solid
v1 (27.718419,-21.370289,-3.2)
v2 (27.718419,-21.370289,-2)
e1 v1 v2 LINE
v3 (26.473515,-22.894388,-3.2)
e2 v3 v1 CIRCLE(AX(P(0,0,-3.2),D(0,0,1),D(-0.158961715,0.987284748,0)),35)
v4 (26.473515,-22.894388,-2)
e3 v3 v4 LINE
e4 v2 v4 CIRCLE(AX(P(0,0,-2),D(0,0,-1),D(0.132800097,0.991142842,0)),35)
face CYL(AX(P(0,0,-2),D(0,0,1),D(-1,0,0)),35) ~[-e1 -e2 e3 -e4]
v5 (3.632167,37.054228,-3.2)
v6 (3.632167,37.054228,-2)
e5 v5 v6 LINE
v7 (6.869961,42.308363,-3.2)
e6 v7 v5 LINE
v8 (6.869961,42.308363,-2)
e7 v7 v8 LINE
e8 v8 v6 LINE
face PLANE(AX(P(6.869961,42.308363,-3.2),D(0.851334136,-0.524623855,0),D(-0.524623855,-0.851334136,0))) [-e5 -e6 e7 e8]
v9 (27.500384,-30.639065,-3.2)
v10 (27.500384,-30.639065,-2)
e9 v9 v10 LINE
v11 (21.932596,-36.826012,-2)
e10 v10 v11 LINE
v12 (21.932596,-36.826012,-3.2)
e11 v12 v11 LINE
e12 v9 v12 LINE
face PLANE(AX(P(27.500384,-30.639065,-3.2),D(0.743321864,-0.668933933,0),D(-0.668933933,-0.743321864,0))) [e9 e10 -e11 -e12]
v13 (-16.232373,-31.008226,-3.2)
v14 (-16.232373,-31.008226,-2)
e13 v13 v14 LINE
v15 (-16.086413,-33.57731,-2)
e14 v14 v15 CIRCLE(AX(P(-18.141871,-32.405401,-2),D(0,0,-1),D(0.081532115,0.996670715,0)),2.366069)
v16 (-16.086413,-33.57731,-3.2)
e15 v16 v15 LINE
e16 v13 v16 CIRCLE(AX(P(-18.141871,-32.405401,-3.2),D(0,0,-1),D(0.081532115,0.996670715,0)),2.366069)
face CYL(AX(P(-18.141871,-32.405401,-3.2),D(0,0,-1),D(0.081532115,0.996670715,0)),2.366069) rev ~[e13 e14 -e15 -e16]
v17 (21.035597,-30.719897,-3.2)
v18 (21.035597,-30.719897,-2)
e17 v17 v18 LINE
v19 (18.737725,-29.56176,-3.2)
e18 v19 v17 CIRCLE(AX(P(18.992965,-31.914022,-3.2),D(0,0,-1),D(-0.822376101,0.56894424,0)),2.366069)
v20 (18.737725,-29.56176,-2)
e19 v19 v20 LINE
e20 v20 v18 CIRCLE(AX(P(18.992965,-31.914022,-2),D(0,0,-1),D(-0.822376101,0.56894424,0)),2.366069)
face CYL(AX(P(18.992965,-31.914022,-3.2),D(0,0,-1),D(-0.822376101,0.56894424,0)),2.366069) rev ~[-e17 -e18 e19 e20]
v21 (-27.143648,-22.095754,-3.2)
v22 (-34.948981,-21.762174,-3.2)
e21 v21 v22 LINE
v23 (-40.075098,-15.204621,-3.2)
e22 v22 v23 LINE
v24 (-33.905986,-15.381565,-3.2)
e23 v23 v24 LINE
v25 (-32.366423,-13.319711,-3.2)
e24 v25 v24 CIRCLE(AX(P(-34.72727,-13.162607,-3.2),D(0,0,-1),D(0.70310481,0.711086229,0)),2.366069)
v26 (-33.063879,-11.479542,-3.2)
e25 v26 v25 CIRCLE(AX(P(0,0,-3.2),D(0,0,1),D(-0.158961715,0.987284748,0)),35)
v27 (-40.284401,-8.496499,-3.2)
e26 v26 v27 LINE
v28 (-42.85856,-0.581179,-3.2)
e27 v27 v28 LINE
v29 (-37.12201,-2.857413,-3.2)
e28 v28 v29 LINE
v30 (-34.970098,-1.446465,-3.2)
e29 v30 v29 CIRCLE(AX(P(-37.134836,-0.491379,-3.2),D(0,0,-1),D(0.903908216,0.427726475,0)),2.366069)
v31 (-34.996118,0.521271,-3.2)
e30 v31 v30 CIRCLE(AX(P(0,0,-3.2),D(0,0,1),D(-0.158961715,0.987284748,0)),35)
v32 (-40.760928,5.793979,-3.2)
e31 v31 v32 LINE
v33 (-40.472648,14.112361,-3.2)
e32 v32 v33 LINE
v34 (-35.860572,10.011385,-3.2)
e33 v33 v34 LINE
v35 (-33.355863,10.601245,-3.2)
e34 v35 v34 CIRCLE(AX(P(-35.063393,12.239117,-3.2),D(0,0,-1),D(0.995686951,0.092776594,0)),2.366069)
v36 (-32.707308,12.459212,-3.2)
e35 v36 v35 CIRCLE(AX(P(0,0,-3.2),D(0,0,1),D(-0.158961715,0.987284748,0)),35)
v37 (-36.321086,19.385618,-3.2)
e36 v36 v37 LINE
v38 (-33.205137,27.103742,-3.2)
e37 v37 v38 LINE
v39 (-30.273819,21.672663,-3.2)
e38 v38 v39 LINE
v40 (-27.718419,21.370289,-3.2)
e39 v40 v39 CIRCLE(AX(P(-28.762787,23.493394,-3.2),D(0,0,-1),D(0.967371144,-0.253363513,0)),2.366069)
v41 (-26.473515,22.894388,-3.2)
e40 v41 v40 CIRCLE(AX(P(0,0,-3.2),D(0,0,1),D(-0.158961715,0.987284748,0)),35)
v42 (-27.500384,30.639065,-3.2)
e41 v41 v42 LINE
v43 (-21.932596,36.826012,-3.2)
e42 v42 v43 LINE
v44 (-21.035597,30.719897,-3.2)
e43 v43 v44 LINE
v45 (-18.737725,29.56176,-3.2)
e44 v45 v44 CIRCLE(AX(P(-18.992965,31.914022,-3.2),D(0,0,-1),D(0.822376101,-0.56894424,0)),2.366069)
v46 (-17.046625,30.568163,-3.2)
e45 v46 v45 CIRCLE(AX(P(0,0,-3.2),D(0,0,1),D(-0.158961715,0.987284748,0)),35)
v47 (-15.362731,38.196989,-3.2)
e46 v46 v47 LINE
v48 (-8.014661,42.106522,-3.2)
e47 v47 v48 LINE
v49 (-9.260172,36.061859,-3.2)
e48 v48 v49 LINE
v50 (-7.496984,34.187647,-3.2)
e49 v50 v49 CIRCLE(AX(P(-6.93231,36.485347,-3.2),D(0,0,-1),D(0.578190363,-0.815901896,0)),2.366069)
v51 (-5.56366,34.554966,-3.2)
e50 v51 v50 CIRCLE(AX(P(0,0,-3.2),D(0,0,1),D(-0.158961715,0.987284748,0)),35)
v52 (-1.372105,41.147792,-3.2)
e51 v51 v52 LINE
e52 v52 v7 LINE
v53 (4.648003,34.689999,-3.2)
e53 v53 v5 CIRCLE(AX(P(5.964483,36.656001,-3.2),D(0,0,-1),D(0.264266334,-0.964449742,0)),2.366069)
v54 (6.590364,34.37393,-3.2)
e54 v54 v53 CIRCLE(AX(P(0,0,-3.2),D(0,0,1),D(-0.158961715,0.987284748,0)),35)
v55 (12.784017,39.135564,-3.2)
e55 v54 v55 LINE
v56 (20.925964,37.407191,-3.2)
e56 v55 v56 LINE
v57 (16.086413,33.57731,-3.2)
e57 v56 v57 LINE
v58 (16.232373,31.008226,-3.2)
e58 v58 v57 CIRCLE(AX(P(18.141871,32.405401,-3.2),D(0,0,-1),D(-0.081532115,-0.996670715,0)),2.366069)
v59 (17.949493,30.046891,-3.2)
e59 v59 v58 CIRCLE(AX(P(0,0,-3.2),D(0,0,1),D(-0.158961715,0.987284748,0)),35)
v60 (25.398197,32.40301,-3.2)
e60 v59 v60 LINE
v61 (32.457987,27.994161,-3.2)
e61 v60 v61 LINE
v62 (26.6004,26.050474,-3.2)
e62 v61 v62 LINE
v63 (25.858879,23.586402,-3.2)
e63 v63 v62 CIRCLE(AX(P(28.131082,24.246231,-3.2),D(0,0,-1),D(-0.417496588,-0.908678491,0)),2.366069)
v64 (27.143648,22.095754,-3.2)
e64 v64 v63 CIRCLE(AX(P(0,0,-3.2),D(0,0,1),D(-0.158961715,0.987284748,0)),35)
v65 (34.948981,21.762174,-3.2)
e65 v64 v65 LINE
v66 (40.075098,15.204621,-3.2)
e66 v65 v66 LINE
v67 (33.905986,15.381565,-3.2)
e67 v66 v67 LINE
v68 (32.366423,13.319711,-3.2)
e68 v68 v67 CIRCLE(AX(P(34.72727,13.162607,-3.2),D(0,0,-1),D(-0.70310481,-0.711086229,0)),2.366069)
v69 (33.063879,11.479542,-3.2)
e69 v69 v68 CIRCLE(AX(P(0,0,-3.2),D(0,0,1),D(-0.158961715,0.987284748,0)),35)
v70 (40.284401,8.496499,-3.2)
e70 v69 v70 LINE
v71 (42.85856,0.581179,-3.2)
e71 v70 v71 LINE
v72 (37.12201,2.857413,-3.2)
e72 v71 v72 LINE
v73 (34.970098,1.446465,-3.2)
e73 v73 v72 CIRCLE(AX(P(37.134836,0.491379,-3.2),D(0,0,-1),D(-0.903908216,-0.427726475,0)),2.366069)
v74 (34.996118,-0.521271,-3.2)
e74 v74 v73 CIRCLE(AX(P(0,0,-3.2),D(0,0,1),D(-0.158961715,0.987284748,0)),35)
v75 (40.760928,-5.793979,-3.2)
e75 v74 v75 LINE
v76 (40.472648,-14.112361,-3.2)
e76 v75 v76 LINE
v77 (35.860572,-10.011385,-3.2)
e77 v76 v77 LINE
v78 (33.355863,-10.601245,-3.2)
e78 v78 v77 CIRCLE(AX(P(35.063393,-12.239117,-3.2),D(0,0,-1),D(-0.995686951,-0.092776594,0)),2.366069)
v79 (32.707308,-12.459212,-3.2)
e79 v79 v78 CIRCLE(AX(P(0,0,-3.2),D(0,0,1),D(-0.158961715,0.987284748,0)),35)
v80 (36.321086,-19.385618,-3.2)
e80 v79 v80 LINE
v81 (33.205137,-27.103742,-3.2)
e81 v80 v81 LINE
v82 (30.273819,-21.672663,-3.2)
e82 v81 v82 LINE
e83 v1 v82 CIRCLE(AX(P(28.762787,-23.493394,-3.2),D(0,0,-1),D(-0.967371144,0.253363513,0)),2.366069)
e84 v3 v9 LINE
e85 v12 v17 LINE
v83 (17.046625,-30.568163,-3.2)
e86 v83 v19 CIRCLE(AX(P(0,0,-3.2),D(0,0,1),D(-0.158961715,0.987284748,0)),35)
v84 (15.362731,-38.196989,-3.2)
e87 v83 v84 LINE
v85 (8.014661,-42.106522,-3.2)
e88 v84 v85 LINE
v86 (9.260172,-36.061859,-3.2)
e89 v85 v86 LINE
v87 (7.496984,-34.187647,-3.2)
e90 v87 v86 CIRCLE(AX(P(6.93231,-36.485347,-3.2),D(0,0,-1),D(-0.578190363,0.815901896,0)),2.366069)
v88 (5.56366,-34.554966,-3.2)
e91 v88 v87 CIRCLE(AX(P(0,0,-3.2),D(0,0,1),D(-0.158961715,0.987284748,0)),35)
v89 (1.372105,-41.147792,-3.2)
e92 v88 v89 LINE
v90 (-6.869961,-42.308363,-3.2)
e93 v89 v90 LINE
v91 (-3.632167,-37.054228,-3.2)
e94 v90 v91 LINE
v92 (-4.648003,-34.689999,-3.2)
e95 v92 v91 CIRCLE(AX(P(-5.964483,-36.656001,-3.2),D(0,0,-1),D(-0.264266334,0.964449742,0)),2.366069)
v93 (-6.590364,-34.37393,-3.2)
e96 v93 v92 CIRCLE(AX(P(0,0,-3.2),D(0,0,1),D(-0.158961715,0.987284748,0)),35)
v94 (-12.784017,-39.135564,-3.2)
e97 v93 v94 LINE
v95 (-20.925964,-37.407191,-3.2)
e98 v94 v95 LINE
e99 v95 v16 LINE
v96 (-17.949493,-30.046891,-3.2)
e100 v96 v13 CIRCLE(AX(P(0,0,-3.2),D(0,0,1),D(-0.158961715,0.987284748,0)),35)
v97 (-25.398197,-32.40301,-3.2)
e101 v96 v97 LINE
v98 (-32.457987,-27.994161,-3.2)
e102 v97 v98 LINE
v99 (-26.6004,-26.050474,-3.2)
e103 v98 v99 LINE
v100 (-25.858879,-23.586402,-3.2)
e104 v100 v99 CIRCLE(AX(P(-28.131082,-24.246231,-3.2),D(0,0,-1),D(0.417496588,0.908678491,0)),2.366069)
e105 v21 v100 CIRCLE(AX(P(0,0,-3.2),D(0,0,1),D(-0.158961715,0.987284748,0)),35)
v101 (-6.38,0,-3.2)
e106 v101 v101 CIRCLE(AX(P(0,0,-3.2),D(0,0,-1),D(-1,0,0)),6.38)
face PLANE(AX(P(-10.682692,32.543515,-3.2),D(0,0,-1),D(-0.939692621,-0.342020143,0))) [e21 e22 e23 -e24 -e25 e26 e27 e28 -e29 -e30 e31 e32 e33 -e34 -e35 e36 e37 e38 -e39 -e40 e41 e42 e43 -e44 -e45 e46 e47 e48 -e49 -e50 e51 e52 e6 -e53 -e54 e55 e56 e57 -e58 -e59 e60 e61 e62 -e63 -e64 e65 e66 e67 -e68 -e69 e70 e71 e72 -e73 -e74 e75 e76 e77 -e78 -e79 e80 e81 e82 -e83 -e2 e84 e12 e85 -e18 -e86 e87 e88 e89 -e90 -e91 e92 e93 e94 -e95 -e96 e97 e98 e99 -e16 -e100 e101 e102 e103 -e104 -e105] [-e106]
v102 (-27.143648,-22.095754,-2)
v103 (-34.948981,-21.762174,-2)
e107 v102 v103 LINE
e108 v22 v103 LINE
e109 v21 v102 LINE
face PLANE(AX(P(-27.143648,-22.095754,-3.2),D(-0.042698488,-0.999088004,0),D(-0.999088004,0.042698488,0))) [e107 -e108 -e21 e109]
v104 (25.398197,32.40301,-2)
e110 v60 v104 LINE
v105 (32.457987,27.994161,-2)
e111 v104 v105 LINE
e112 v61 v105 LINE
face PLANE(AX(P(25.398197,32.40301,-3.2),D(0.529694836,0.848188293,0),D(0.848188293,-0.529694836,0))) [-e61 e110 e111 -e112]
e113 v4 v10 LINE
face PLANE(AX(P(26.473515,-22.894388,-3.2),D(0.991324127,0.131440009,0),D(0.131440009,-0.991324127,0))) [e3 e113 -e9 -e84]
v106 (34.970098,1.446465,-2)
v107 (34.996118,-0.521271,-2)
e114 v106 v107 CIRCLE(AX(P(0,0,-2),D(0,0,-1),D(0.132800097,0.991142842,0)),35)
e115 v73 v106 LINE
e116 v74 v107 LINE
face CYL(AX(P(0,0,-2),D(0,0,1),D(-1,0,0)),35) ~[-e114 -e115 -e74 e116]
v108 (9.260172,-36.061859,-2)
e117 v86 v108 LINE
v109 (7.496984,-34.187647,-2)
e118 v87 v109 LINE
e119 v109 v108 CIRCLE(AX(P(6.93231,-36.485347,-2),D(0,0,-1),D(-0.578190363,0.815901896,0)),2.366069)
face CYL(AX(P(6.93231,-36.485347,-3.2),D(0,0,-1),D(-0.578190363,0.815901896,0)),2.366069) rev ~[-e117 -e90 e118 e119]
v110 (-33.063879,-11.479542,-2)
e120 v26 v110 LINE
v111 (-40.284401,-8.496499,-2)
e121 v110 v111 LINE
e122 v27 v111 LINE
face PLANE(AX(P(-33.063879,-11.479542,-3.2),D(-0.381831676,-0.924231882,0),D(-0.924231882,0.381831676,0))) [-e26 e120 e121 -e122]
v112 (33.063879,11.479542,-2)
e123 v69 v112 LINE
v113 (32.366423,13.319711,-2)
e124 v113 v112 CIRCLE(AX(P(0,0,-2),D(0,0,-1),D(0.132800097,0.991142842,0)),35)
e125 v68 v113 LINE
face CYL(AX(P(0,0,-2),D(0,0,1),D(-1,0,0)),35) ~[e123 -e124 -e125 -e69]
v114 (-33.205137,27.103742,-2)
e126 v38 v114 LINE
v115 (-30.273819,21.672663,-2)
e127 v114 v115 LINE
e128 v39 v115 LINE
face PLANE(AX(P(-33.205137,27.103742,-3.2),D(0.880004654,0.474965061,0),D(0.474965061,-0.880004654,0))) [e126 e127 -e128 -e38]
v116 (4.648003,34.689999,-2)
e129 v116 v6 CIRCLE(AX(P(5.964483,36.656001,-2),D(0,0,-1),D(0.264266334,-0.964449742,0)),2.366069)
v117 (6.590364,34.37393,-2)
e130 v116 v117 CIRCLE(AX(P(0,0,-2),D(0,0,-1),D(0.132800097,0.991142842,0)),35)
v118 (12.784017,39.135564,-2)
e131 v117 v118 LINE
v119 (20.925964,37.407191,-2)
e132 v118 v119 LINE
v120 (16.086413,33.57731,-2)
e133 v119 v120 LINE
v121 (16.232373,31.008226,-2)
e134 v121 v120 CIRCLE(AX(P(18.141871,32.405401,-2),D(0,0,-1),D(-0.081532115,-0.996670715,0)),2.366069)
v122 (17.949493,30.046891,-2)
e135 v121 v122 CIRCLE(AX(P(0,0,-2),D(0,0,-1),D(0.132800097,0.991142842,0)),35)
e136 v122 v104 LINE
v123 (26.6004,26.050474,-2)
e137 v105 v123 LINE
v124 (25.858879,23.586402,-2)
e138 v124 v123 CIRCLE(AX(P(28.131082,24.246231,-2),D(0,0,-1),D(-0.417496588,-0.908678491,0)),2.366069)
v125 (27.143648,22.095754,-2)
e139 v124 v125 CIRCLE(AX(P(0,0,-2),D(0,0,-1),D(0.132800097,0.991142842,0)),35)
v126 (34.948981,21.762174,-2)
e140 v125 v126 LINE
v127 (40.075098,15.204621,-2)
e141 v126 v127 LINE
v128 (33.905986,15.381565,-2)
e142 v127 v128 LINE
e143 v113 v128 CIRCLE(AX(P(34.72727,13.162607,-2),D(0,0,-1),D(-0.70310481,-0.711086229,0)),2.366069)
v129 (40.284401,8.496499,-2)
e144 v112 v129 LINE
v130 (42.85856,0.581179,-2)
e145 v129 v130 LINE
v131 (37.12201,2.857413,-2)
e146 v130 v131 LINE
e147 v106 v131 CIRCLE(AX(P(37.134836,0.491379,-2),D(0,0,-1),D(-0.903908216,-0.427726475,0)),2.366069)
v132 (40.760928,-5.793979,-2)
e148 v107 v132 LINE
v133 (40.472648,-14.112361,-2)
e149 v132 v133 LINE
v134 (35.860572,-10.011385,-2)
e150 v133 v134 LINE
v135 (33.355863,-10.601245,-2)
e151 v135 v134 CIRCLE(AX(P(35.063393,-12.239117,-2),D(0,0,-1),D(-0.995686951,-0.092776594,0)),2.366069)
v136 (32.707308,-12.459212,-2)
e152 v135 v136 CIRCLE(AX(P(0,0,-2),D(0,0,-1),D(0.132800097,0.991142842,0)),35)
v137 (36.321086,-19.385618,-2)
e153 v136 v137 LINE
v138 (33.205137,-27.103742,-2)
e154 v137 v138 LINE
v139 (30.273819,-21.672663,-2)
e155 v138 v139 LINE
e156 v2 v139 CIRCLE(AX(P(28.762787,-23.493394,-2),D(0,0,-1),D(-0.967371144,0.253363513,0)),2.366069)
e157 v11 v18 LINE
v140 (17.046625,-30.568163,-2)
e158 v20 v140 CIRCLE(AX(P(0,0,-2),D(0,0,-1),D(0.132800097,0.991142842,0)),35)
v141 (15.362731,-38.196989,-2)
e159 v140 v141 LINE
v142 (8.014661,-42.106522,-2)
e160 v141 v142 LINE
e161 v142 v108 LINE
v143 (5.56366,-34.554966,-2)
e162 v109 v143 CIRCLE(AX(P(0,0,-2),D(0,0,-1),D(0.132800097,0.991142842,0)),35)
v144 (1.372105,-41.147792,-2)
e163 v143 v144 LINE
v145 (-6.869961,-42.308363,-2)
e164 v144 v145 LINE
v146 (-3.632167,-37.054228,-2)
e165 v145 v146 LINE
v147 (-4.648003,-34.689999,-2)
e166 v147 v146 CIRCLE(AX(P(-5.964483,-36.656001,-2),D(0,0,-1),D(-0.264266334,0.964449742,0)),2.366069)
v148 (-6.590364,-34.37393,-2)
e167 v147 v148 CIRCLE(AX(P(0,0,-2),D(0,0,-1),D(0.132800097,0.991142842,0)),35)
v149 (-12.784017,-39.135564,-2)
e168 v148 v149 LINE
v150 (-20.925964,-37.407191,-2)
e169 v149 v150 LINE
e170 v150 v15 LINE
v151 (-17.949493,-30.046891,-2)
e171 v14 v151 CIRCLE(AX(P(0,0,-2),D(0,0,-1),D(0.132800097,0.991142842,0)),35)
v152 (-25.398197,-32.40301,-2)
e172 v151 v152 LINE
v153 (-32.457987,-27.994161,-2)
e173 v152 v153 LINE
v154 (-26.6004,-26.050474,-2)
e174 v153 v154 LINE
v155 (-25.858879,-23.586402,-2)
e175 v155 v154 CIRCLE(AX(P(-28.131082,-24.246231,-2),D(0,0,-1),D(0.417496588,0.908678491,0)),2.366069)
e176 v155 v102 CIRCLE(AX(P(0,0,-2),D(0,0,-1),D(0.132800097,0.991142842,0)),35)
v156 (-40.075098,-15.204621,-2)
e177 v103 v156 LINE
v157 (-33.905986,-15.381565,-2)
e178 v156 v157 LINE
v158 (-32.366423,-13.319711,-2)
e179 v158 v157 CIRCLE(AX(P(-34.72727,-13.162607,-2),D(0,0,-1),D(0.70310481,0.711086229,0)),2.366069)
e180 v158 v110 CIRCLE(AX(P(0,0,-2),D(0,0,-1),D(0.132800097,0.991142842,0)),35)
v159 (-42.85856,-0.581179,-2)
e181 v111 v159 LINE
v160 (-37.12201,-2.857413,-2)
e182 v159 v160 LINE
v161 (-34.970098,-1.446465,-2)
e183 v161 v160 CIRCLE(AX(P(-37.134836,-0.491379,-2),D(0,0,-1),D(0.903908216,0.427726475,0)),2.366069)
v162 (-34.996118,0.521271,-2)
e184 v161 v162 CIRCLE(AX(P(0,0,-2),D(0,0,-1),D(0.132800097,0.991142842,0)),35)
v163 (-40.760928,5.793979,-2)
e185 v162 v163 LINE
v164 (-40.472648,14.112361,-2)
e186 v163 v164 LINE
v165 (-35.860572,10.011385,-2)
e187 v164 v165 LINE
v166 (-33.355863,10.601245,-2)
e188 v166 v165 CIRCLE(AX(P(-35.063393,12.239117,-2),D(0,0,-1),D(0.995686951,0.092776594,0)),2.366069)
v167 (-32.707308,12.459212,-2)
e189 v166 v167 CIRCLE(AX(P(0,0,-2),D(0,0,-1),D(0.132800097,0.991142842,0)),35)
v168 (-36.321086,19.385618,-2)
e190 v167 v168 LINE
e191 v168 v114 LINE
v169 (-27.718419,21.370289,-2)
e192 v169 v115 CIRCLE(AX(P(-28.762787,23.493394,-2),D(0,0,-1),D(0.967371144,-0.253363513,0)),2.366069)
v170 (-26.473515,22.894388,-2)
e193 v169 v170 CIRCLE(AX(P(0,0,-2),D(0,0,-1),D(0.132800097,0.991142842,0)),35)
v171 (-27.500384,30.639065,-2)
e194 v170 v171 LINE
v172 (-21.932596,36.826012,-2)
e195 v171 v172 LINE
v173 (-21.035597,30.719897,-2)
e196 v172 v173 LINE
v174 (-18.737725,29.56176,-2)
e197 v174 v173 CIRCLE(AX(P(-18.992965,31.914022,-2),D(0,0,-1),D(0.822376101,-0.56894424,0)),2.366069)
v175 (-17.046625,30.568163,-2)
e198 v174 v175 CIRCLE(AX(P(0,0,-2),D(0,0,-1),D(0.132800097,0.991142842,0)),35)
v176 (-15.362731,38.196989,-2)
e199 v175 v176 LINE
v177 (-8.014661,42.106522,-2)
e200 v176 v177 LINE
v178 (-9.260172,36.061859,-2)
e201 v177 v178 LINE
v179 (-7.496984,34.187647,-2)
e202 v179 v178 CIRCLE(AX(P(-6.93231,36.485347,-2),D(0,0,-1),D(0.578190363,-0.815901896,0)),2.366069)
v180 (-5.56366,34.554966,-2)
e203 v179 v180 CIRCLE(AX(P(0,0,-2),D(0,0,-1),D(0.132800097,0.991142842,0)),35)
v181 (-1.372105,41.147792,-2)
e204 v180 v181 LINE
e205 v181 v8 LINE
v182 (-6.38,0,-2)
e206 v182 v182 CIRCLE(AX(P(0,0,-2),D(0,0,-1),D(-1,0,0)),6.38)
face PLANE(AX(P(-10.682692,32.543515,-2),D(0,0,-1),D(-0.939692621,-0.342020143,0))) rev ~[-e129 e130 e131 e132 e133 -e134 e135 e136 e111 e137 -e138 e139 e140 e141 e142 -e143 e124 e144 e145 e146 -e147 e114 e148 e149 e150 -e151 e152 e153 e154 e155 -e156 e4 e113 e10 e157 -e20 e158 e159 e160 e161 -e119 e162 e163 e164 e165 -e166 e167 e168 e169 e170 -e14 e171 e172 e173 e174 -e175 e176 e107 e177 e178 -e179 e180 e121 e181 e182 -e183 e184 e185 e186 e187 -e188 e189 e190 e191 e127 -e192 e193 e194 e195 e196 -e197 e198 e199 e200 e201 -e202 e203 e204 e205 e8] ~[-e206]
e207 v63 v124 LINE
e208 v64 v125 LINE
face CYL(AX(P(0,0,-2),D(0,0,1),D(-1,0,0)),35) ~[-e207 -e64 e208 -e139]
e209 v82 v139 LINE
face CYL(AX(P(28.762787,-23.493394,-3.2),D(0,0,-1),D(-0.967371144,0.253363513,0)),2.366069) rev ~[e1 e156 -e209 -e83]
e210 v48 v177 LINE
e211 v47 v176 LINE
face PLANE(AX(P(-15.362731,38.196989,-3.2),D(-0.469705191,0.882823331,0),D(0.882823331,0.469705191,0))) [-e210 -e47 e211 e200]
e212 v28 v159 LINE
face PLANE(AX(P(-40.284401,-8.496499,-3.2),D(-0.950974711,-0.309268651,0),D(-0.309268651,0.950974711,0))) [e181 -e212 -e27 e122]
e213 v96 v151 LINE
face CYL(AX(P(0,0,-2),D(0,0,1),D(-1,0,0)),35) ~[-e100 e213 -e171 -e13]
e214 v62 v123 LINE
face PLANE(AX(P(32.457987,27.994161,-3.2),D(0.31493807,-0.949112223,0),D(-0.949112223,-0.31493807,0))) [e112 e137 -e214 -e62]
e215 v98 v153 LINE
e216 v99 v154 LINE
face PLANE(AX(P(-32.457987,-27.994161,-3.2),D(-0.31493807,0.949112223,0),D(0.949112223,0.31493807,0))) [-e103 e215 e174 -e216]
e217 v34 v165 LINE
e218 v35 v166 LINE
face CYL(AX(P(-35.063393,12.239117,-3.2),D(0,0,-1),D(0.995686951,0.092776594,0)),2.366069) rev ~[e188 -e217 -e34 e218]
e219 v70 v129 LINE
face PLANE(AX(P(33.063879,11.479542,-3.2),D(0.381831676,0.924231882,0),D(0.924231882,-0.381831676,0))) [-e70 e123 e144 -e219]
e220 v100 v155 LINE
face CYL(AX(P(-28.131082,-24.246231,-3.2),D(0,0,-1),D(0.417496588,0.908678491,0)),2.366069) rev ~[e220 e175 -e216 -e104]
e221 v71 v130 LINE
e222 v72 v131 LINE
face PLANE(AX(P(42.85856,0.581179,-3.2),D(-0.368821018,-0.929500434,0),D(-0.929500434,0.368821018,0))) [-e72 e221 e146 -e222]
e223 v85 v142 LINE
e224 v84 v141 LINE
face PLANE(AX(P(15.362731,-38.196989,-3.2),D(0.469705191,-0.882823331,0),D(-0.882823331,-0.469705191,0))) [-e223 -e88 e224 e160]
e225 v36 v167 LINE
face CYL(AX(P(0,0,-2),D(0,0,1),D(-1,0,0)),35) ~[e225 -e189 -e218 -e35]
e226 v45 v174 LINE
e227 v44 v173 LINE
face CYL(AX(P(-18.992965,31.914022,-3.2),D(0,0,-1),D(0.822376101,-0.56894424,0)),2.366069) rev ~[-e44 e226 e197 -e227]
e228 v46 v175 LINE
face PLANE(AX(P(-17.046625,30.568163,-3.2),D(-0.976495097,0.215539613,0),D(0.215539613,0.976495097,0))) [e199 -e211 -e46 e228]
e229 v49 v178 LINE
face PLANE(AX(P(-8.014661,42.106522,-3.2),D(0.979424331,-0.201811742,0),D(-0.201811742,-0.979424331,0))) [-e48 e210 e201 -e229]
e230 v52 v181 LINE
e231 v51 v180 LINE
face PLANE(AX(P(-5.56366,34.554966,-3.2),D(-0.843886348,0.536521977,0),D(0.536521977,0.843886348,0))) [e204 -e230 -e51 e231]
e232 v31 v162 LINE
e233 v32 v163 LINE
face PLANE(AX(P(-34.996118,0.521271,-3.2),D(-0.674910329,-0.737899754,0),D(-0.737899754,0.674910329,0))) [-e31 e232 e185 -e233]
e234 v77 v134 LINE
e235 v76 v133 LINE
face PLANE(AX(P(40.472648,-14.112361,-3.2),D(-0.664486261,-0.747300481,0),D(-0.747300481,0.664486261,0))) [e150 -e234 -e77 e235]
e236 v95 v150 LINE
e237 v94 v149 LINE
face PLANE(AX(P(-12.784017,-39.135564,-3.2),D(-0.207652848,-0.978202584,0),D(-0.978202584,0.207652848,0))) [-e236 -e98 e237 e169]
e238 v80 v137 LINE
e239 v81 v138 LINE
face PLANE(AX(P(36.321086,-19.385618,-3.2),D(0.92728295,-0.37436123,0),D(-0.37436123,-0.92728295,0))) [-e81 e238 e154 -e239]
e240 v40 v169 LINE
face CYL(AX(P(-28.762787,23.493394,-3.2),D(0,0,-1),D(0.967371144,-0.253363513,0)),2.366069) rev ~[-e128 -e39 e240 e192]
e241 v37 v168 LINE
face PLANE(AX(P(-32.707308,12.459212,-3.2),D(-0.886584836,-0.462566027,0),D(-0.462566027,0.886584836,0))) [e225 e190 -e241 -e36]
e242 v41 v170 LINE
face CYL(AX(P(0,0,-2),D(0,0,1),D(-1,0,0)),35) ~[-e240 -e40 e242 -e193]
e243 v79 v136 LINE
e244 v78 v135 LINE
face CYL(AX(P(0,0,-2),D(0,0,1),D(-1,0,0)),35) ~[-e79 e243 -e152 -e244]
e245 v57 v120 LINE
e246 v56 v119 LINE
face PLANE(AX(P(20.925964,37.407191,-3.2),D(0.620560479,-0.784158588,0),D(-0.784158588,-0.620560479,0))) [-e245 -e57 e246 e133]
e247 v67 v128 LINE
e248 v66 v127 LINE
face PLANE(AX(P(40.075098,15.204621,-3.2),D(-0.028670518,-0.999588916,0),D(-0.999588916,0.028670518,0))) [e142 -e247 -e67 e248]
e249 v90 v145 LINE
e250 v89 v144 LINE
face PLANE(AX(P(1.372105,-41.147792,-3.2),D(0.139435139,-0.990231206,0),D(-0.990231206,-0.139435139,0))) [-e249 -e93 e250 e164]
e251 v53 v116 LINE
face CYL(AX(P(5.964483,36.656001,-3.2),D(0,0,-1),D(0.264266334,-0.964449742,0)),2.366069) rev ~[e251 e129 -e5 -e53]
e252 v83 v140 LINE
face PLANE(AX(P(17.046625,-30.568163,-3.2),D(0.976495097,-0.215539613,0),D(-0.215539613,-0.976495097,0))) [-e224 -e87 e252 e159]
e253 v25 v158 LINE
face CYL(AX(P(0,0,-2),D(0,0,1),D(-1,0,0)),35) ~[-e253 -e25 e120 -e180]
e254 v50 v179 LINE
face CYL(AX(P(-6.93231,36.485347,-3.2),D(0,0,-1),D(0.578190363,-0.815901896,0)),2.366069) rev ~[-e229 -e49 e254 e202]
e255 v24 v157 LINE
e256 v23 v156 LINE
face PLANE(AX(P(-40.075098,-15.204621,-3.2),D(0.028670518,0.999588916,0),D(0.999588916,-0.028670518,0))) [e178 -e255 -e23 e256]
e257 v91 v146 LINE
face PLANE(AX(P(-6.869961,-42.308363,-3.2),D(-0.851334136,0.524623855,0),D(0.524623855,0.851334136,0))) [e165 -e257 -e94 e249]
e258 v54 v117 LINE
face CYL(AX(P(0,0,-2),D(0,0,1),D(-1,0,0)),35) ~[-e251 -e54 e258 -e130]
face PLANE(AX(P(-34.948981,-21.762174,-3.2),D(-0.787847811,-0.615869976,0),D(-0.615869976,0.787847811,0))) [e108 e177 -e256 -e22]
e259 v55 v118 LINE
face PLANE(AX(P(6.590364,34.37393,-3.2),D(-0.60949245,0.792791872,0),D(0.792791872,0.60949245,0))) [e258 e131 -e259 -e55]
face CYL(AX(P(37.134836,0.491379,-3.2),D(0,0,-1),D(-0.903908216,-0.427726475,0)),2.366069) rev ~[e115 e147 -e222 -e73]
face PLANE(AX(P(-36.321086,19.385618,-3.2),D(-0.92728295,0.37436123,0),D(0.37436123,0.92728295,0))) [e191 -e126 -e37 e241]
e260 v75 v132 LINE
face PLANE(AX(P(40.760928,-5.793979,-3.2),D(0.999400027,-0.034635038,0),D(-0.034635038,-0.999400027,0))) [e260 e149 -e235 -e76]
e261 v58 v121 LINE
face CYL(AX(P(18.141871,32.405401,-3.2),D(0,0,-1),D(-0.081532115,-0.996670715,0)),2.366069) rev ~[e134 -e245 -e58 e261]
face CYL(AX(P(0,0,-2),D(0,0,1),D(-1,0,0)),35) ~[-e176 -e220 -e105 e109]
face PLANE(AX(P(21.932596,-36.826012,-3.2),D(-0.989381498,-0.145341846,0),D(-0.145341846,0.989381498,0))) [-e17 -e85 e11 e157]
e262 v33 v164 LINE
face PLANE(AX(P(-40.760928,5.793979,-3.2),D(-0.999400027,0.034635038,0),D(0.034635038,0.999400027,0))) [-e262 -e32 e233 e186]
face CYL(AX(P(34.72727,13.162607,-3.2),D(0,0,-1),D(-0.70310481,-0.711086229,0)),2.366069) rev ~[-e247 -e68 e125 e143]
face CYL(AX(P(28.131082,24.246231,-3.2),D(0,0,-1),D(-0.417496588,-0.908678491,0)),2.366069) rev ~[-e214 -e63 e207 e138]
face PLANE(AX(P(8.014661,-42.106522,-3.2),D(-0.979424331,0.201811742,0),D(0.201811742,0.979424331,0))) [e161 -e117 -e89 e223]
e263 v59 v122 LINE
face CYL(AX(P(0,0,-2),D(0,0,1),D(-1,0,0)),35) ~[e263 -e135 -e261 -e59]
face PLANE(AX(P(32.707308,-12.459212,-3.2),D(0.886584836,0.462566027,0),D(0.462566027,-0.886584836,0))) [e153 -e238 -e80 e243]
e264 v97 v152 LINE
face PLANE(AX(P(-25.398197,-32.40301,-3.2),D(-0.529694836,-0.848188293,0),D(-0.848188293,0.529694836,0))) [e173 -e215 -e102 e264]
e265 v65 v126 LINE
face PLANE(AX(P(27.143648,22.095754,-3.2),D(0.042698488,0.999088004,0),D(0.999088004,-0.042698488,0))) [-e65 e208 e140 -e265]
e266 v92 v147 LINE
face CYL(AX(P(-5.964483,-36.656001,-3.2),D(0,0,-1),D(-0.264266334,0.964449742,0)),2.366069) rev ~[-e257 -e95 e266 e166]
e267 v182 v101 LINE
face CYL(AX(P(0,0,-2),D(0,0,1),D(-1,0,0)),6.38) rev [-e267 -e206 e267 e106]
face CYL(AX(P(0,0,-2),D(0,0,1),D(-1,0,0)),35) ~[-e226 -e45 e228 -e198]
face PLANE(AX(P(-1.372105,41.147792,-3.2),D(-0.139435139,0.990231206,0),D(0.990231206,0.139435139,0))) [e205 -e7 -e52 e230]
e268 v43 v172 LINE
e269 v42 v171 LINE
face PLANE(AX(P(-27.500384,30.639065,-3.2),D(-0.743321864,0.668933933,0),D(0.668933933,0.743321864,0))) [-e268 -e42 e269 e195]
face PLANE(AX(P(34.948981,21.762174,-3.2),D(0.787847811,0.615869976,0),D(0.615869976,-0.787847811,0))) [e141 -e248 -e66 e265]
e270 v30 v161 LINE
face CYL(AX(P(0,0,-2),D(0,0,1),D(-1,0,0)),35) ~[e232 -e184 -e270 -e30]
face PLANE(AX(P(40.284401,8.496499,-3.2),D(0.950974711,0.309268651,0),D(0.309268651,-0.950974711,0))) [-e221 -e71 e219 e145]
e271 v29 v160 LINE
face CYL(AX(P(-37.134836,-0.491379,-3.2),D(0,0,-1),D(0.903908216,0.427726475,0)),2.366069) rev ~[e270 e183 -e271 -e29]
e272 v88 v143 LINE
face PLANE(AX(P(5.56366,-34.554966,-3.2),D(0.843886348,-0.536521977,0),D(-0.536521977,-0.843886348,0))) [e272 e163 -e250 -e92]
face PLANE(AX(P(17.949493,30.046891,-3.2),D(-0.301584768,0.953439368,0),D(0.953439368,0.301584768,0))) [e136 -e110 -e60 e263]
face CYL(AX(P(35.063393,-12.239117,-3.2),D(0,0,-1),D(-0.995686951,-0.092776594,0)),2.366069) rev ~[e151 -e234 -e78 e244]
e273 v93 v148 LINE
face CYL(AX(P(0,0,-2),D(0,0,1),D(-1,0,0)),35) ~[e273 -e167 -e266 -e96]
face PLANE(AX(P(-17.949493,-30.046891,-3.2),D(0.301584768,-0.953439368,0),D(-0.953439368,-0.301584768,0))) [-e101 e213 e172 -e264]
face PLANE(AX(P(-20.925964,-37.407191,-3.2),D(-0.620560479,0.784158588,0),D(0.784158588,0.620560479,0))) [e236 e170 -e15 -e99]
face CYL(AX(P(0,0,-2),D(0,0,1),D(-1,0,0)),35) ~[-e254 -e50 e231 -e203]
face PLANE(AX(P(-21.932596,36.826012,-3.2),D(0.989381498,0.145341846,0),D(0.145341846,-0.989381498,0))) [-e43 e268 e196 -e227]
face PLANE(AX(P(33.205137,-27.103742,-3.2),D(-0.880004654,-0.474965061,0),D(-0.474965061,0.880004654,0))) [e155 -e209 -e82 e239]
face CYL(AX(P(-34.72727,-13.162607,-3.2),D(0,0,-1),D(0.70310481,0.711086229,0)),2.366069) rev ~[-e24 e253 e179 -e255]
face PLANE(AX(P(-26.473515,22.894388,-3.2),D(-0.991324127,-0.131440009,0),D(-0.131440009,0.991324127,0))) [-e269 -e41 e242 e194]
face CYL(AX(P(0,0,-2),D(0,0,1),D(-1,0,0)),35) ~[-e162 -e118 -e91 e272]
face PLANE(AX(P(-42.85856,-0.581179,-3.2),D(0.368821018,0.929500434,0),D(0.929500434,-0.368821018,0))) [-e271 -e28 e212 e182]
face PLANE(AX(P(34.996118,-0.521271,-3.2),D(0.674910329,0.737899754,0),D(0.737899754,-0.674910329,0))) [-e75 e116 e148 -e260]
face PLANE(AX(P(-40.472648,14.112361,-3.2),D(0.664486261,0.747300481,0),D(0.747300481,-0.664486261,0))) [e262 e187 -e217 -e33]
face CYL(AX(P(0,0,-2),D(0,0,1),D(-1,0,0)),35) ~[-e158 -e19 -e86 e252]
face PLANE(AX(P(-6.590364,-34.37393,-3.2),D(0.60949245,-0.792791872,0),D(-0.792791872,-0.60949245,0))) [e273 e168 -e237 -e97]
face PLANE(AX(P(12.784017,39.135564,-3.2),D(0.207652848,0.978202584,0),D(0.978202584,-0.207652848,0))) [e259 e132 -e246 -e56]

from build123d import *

# Parameters (mm, degrees)
SKETCH_R             = 35
SKETCH_R_2           = 6.38
PAD_DEPTH            = 1.2
PAD001_DEPTH         = 1.2
POLARPATTERN_COUNT   = 18
BODY_PLACEMENT_ANGLE = 180


with BuildPart() as part:
    # Sketch → Pad (new body)
    with BuildSketch(Plane.XY):
        Circle(SKETCH_R)
        Circle(SKETCH_R_2, mode=Mode.SUBTRACT)
    extrude(amount=PAD_DEPTH)

    # Sketch001 (on Face4 of Pad) → Pad001 (join)
    with BuildSketch(Plane.XY.offset(1.2)):
        with BuildLine():
            Line((5.56366, 34.554966), (1.372105, 41.147792))
            Line((1.372105, 41.147792), (-6.869961, 42.308363))
            Line((-6.869961, 42.308363), (-3.632167, 37.054228))
            ThreePointArc((-6.589755, 34.374047), (-4.375665, 34.902736), (-3.632167, 37.054228))
            Line((-6.589755, 34.374047), (-4.485629, 26.553919))
            Line((3.9883, 26.28405), (-4.485629, 26.553919))
            Line((5.56366, 34.554966), (3.9883, 26.28405))
        make_face()
    pad001 = extrude(amount=-PAD001_DEPTH)

    # PolarPattern: Pad001 ×18 about axis
    polarpattern_axis = Axis((0, 0, 0), (0, 0, 1))
    for i in range(1, POLARPATTERN_COUNT):
        add(pad001.rotate(polarpattern_axis, i * 360 / POLARPATTERN_COUNT))


with BuildPart() as part_1:
    # Body placement: moved
    add(part.part.moved(Location((0, 0, -2))).rotate(Axis((0, 0, -2), (0, 1, 0)), BODY_PLACEMENT_ANGLE))


solid = part_1.part
